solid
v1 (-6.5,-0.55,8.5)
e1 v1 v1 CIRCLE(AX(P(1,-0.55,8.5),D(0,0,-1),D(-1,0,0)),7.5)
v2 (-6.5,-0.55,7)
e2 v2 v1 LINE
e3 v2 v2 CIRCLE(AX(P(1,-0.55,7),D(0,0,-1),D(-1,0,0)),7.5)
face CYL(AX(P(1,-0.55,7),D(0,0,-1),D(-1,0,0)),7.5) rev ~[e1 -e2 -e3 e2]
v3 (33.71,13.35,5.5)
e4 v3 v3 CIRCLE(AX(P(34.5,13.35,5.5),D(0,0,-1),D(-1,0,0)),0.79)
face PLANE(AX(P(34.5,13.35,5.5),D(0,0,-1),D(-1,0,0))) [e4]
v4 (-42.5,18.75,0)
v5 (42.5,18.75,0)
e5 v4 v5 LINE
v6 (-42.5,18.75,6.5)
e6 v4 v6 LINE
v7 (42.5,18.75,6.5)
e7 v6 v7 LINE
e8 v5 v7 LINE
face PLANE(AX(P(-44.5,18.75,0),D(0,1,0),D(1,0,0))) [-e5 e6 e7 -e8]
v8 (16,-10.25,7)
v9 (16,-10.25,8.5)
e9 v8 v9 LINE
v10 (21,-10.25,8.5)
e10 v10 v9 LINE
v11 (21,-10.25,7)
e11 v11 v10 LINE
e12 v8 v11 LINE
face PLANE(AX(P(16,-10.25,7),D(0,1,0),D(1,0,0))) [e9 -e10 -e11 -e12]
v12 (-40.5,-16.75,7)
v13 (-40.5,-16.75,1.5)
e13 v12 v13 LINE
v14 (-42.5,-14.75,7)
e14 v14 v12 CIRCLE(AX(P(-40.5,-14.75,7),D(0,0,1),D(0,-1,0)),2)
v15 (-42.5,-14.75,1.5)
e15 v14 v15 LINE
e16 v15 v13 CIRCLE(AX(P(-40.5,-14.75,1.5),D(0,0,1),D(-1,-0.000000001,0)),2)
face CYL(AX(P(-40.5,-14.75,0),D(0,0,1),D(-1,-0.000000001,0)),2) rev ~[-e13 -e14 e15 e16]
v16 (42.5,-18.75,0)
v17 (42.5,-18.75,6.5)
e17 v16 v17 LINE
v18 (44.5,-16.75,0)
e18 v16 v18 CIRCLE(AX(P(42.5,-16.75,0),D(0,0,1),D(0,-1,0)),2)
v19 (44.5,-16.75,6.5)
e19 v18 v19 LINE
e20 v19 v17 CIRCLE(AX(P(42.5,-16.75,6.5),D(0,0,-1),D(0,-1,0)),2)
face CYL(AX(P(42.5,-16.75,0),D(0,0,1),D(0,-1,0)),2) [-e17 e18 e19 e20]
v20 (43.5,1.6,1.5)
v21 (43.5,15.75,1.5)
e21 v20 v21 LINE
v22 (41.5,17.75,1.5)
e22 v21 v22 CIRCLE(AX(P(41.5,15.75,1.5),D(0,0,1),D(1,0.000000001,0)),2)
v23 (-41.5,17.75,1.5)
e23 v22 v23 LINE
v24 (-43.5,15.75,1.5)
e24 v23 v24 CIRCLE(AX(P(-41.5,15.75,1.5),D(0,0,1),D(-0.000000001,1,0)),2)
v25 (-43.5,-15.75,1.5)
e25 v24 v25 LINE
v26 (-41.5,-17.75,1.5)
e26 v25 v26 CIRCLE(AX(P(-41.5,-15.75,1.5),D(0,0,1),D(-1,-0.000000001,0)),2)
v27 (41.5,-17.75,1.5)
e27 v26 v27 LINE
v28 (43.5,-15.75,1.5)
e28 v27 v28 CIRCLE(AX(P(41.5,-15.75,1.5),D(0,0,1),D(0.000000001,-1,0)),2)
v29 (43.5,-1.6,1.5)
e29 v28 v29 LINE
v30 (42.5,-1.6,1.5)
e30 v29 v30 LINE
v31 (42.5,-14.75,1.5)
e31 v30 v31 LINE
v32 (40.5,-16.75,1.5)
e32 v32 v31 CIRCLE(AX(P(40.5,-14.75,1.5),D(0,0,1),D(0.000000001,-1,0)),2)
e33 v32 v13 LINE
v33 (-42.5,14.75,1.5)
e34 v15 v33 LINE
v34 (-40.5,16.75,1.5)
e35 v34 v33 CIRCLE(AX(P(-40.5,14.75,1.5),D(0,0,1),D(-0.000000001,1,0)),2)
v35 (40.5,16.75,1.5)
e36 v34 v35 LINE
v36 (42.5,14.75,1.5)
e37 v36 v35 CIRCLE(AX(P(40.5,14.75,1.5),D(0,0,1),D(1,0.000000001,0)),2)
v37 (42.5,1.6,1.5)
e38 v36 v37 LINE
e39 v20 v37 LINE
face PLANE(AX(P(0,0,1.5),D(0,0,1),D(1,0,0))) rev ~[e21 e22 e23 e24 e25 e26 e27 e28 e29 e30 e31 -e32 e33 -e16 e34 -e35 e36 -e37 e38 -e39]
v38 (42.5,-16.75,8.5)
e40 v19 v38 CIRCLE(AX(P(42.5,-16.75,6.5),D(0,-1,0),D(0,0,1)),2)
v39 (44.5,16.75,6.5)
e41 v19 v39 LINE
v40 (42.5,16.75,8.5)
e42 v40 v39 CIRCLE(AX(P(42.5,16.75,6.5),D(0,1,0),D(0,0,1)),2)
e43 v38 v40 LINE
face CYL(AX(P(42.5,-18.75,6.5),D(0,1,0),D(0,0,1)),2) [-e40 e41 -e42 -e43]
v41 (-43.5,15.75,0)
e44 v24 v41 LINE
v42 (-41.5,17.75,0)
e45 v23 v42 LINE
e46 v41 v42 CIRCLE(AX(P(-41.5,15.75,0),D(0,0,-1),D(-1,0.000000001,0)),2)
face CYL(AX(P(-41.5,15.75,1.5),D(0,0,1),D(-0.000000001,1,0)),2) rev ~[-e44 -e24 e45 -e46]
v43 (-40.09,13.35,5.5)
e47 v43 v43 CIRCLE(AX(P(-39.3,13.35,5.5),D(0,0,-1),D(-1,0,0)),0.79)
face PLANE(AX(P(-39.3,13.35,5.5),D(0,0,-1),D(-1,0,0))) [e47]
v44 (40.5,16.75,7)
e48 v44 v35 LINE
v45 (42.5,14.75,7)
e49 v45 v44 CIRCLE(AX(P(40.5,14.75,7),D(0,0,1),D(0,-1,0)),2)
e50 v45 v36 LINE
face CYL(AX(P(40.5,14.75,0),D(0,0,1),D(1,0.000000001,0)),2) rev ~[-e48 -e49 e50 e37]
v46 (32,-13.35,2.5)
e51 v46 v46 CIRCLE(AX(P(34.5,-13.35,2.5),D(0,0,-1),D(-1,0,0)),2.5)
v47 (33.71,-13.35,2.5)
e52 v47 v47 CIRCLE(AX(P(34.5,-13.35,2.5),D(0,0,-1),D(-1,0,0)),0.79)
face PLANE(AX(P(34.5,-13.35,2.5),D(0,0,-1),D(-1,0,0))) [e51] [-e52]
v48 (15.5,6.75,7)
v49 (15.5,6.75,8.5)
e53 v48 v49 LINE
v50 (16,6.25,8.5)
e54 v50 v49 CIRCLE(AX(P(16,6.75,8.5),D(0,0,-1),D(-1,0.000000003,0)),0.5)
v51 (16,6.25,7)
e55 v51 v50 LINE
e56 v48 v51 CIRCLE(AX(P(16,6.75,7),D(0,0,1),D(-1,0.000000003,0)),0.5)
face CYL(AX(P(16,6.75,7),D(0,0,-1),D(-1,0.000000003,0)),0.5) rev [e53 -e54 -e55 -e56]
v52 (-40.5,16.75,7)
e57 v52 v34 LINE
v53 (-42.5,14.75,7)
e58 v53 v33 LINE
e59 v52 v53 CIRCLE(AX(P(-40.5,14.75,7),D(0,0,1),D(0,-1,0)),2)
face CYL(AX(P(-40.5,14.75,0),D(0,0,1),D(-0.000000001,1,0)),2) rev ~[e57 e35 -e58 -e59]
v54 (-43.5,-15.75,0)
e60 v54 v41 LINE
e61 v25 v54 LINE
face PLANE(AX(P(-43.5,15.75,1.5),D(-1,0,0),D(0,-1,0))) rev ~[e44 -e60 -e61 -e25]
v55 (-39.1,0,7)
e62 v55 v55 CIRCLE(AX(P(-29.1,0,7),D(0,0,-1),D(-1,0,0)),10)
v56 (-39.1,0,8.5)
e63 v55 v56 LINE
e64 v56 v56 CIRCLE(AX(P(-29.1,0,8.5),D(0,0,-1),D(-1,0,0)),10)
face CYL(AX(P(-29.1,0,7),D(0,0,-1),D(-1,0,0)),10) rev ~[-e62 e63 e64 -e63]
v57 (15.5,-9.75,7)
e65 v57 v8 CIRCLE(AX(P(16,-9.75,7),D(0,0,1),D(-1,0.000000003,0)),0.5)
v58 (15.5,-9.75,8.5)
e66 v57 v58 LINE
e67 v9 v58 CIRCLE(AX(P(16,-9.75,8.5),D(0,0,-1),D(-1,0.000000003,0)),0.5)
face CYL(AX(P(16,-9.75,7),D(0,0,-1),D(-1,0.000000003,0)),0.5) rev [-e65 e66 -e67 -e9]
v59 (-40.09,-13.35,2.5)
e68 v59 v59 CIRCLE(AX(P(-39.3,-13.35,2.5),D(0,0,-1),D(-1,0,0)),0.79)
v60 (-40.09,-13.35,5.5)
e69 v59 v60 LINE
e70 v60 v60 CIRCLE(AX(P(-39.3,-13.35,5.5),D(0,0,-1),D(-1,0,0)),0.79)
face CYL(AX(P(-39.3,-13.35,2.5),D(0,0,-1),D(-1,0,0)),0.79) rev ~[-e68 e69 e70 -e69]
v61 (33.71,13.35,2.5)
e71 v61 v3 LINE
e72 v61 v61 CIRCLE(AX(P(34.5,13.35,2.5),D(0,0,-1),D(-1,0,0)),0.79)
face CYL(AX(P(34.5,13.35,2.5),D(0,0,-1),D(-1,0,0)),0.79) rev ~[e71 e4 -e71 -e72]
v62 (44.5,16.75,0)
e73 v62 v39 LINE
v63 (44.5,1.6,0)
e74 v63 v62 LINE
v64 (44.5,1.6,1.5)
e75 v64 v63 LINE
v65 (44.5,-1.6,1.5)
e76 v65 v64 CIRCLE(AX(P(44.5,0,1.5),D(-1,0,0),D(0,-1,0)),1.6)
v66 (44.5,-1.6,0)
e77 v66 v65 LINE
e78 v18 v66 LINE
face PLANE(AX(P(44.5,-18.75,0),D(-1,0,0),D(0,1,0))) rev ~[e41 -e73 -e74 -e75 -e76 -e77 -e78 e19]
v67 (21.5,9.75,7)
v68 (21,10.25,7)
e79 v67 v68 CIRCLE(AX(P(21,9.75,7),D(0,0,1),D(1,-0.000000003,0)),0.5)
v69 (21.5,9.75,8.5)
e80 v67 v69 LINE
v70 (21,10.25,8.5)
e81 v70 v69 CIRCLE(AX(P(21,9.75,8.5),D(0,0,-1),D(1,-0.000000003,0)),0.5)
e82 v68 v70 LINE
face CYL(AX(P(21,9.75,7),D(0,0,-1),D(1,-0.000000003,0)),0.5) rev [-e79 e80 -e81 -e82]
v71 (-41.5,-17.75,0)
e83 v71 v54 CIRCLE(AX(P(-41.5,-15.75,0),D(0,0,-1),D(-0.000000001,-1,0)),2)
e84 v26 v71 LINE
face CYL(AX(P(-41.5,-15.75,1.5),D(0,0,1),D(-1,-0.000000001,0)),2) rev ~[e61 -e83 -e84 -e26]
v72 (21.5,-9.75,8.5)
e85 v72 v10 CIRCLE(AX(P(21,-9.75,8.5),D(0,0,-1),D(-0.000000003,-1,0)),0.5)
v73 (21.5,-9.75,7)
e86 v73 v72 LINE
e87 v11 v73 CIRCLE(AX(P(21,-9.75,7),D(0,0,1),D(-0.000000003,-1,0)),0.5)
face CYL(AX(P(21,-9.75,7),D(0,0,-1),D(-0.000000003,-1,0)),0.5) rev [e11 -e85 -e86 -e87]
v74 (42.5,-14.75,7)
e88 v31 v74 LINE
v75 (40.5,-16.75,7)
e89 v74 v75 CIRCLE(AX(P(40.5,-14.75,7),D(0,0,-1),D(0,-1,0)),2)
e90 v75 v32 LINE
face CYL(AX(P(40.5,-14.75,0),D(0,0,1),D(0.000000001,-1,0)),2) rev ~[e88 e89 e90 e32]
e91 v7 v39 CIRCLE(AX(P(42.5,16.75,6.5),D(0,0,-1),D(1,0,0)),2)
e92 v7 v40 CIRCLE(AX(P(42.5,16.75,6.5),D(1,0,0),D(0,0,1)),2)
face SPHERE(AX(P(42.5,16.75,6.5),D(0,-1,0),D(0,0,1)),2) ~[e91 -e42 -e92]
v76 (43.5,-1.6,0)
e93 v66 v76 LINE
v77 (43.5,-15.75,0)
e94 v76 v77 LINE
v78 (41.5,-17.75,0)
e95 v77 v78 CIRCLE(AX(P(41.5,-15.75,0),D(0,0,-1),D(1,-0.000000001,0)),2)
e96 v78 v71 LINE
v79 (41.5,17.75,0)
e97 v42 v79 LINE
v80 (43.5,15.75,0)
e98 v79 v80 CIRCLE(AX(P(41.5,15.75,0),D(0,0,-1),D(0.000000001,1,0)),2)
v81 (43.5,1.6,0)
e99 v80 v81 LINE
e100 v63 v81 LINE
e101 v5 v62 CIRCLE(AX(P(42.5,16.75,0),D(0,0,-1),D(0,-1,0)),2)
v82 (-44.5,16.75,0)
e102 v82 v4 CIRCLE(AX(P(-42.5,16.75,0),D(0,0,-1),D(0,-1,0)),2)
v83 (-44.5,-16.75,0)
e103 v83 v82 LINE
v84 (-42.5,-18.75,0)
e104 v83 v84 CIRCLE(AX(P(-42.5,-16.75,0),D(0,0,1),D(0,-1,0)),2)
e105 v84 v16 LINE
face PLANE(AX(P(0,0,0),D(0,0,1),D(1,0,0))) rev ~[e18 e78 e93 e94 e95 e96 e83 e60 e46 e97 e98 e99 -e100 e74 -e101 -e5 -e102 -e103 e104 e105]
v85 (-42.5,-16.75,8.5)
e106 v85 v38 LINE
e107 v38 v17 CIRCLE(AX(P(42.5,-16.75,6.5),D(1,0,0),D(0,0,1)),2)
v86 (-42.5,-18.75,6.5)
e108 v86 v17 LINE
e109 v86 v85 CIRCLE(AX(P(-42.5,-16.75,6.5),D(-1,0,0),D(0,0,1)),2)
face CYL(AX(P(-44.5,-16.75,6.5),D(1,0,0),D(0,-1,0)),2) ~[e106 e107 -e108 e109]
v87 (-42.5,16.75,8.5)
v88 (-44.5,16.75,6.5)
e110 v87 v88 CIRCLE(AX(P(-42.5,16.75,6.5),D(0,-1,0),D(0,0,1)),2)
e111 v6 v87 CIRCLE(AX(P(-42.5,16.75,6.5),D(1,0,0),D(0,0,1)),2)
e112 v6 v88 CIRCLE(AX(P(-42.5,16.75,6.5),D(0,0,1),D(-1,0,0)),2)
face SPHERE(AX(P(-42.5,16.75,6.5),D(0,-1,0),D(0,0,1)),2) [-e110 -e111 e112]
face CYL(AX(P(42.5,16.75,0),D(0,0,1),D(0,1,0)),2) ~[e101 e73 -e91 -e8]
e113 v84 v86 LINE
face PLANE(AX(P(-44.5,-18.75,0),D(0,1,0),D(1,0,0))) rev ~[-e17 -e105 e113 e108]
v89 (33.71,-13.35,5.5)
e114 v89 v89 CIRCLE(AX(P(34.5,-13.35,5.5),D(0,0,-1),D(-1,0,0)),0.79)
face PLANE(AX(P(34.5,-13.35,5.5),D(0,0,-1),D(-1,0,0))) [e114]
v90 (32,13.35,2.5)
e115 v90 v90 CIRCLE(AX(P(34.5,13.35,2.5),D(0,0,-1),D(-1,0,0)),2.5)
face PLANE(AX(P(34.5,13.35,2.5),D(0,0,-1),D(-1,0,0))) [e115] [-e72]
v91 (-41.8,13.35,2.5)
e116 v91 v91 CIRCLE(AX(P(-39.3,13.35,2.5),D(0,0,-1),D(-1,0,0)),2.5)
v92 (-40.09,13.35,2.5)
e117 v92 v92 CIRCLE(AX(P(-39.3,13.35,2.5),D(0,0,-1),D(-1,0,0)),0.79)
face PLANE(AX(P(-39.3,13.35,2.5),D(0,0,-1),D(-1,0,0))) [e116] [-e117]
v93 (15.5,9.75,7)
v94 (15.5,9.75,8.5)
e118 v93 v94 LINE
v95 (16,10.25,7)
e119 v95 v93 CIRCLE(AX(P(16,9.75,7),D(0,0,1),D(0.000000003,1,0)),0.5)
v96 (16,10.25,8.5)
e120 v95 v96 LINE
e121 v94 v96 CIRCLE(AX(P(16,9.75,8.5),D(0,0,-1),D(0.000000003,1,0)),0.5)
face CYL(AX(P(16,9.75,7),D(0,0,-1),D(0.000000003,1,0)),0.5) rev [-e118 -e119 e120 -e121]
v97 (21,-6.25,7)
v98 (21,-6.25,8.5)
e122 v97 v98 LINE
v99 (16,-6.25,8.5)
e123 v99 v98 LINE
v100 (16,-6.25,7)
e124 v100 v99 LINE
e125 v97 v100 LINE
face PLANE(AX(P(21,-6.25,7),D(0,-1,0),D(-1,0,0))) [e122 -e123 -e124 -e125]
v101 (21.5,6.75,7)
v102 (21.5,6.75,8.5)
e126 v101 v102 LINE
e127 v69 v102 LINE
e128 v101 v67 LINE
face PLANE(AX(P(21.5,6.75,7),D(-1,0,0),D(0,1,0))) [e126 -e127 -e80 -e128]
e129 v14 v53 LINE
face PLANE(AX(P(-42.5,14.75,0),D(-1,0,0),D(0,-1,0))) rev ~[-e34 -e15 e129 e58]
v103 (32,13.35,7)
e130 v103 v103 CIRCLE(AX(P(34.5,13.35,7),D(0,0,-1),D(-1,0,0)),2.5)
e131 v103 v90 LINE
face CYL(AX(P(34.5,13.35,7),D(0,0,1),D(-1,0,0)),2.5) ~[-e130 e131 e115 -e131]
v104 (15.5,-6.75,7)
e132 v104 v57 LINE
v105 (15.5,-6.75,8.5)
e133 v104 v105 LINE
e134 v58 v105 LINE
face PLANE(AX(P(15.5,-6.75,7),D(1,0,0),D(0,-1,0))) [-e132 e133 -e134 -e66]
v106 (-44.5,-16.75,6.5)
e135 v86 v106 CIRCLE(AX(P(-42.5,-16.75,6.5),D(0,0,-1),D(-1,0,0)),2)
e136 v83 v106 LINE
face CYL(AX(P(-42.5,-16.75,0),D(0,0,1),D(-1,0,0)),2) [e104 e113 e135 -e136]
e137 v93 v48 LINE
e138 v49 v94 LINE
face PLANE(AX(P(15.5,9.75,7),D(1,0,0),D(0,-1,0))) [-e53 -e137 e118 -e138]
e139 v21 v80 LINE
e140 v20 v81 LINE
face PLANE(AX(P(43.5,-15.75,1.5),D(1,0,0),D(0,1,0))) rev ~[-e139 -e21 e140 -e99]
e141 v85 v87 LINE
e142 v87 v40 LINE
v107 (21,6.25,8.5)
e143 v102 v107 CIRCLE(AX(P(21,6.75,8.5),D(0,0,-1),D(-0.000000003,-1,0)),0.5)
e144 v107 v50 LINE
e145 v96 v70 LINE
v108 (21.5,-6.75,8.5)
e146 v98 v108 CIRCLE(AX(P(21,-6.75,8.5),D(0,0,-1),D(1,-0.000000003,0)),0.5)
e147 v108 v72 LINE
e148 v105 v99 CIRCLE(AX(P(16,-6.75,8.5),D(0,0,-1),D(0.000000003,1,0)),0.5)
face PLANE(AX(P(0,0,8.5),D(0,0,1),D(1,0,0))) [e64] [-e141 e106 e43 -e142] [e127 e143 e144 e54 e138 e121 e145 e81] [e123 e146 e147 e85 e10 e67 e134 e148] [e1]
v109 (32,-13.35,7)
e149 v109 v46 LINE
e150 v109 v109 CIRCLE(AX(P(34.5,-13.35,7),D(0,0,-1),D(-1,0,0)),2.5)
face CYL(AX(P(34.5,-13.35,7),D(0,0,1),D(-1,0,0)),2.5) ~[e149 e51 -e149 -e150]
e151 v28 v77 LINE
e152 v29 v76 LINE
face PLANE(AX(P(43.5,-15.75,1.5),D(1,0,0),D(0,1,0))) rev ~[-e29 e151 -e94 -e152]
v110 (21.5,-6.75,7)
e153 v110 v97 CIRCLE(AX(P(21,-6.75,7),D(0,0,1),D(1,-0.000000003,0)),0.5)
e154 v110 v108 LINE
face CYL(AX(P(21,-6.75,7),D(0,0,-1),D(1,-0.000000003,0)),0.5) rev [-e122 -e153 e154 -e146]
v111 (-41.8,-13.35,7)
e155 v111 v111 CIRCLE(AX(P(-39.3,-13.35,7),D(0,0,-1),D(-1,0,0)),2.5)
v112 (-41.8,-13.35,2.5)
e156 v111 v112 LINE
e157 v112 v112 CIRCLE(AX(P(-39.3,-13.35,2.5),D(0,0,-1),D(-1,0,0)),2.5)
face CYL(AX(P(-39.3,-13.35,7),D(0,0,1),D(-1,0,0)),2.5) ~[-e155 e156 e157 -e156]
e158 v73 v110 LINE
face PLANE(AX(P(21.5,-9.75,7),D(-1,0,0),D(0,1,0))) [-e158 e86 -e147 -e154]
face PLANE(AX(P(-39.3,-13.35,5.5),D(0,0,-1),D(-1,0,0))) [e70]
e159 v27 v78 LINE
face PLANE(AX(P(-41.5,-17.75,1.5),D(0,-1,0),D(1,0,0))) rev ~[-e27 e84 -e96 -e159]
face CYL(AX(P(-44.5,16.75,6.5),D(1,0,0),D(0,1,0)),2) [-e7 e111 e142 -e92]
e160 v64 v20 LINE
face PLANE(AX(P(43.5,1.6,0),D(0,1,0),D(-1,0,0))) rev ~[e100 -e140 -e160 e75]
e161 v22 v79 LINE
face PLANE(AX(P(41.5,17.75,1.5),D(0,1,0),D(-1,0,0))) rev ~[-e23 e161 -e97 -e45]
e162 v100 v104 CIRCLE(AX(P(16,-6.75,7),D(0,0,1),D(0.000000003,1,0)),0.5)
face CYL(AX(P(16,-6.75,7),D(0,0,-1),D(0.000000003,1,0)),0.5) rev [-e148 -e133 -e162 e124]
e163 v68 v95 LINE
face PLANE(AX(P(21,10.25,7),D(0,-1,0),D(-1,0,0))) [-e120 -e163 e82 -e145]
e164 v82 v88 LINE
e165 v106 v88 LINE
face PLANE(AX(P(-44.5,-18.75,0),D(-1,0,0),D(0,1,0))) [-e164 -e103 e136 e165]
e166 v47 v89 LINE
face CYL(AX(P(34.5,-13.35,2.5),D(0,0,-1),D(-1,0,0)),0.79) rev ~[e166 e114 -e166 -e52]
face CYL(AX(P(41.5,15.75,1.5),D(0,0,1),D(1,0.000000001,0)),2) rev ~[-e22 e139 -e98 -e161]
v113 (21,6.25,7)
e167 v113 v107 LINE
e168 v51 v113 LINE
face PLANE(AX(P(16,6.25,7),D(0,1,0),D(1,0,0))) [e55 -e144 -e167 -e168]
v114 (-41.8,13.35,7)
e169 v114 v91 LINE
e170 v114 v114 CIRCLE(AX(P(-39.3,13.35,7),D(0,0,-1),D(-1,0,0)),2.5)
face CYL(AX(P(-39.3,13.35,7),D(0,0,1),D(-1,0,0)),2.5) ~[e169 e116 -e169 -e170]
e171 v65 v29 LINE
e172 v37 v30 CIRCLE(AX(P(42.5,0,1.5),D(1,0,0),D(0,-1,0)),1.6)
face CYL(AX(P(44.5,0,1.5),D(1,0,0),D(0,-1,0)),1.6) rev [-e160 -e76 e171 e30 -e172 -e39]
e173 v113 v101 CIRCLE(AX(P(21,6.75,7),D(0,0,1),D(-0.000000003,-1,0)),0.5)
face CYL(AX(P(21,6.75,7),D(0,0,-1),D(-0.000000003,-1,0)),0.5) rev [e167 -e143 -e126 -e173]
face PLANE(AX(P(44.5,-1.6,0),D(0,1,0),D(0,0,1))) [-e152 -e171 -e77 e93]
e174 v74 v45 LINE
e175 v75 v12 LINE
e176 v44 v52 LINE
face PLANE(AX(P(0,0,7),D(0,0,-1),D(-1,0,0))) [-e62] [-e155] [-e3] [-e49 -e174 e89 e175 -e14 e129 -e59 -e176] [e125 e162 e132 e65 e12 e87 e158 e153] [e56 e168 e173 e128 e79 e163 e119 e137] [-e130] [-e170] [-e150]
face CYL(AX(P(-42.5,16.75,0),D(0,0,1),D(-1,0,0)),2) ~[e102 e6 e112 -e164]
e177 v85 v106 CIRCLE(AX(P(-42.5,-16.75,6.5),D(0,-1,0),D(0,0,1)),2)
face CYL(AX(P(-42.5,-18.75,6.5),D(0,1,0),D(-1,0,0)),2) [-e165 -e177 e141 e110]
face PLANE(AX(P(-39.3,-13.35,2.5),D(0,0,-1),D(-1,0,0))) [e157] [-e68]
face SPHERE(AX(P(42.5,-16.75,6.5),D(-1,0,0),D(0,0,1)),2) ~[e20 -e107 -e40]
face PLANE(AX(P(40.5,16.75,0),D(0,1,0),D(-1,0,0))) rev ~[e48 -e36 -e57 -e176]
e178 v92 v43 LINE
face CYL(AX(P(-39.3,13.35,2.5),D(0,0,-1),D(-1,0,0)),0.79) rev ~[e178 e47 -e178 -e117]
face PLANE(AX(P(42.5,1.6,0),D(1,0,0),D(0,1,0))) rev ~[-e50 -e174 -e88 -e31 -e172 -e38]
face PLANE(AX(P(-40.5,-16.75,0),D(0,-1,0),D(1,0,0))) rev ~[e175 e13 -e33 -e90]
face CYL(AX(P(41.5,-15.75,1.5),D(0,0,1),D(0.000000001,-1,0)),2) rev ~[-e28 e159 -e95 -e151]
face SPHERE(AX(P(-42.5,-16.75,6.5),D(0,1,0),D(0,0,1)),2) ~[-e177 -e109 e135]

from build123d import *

# Parameters (mm, degrees)
SKETCH_1_W           = 89
SKETCH_1_H           = 37.5
EXTRUDE_1_DEPTH      = 8.5
SKETCH_2_W           = 85
SKETCH_2_H           = 33.5
CUT_EXTRUDE_1_DEPTH  = 7
CUT_EXTRUDE_3_DEPTH  = 4
FILLET_1_R           = 2
EXTRUDE_2_DEPTH      = 1
SKETCH_10_R          = 2.5
EXTRUDE_3_DEPTH      = 4.5
SKETCH_11_R          = 0.79
CUT_EXTRUDE_9_DEPTH  = 3
SKETCH_8_R           = 7.5
CUT_EXTRUDE_8_DEPTH  = 3
SKETCH_7_R           = 10
CUT_EXTRUDE_7_DEPTH  = 3
CUT_EXTRUDE_START    = -2.5
CUT_EXTRUDE_10_DEPTH = 2.5
CUT_EXTRUDE_11_DEPTH = 10


with BuildPart() as part:
    # 草图1 → 凸台-拉伸1 (new body)
    with BuildSketch(Plane.XY):
        Rectangle(SKETCH_1_W, SKETCH_1_H)
    extrude(amount=EXTRUDE_1_DEPTH)

    # 草图2 → 切除-拉伸1 (cut)
    with BuildSketch(Plane(origin=(0, 0, 0), x_dir=(-1, 0, 0), z_dir=(0, 0, -1))):
        Rectangle(SKETCH_2_W, SKETCH_2_H)
    extrude(amount=-CUT_EXTRUDE_1_DEPTH, mode=Mode.SUBTRACT)

    # 草图3 → 切除-拉伸3 (cut)
    with BuildSketch(Plane(origin=(44.5, 0, 0), x_dir=(0, 0, -1), z_dir=(1, 0, 0))):
        with BuildLine():
            Line((0, 1.6), (0, -1.6))
            Line((0, -1.6), (-1.5, -1.6))
            ThreePointArc((-1.5, -1.6), (-3.1, 0), (-1.5, 1.6))
            Line((-1.5, 1.6), (0, 1.6))
        make_face()
    extrude(amount=-CUT_EXTRUDE_3_DEPTH, mode=Mode.SUBTRACT)

    # 圆角1
    fillet_1_edges = [part.edges().sort_by_distance(p)[0] for p in [
        (-44.5, 0, 8.5),
        (0, -18.75, 8.5),
        (42.5, -16.75, 3.5),
        (42.5, 16.75, 3.5),
        (-42.5, 16.75, 3.5),
        (-42.5, -16.75, 3.5),
        (44.5, 0, 8.5),
        (0, 18.75, 8.5),
        (44.5, -18.75, 4.25),
        (-44.5, -18.75, 4.25),
        (-44.5, 18.75, 4.25),
        (44.5, 18.75, 4.25),
    ]]
    fillet(fillet_1_edges, radius=FILLET_1_R)

    # 草图9 → 凸台-拉伸2 (add)
    with BuildSketch(Plane(origin=(0, 0, 0), x_dir=(-1, 0, 0), z_dir=(0, 0, -1))):
        with BuildLine():
            Line((-43.5, 15.75), (-43.5, 1.6))
            Line((-43.5, 1.6), (-42.5, 1.6))
            Line((-42.5, 1.6), (-42.5, 14.75))
            ThreePointArc((-42.5, 14.75), (-41.914213562, 16.164213562), (-40.5, 16.75))
            Line((-40.5, 16.75), (40.5, 16.75))
            ThreePointArc((40.5, 16.75), (41.914213562, 16.164213562), (42.5, 14.75))
            Line((42.5, 14.75), (42.5, -14.75))
            ThreePointArc((42.5, -14.75), (41.914213562, -16.164213562), (40.5, -16.75))
            Line((40.5, -16.75), (-40.5, -16.75))
            ThreePointArc((-40.5, -16.75), (-41.914213562, -16.164213562), (-42.5, -14.75))
            Line((-42.5, -14.75), (-42.5, -1.6))
            Line((-42.5, -1.6), (-43.5, -1.6))
            Line((-43.5, -1.6), (-43.5, -15.75))
            ThreePointArc((-43.5, -15.75), (-42.914213562, -17.164213562), (-41.5, -17.75))
            Line((-41.5, -17.75), (41.5, -17.75))
            ThreePointArc((41.5, -17.75), (42.914213562, -17.164213562), (43.5, -15.75))
            Line((43.5, -15.75), (43.5, 15.75))
            ThreePointArc((43.5, 15.75), (42.914213562, 17.164213562), (41.5, 17.75))
            Line((41.5, 17.75), (-41.5, 17.75))
            ThreePointArc((-41.5, 17.75), (-42.914213562, 17.164213562), (-43.5, 15.75))
        make_face()
    extrude(amount=EXTRUDE_2_DEPTH)

    # 草图10 → 凸台-拉伸3 (add)
    with BuildSketch(Plane(origin=(0, 0, 7), x_dir=(-1, 0, 0), z_dir=(0, 0, -1))):
        with Locations((39.3, -13.35)):
            Circle(SKETCH_10_R)
        with Locations((39.3, 13.35)):
            Circle(SKETCH_10_R)
        with Locations((-34.5, 13.35)):
            Circle(SKETCH_10_R)
        with Locations((-34.5, -13.35)):
            Circle(SKETCH_10_R)
    extrude(amount=EXTRUDE_3_DEPTH)

    # 草图11 → 切除-拉伸9 (cut)
    with BuildSketch(Plane(origin=(0, 0, 2.5), x_dir=(-1, 0, 0), z_dir=(0, 0, -1))):
        with Locations((-34.5, 13.35)):
            Circle(SKETCH_11_R)
        with Locations((-34.5, -13.35)):
            Circle(SKETCH_11_R)
        with Locations((39.3, 13.35)):
            Circle(SKETCH_11_R)
        with Locations((39.3, -13.35)):
            Circle(SKETCH_11_R)
    extrude(amount=-CUT_EXTRUDE_9_DEPTH, mode=Mode.SUBTRACT)

    # 草图8 → 切除-拉伸8 (cut)
    with BuildSketch(Plane(origin=(0, 0, 7), x_dir=(-1, 0, 0), z_dir=(0, 0, -1))):
        with Locations((-1, -0.55)):
            Circle(SKETCH_8_R)
    extrude(amount=-CUT_EXTRUDE_8_DEPTH, mode=Mode.SUBTRACT)

    # 草图7 → 切除-拉伸7 (cut)
    with BuildSketch(Plane(origin=(0, 0, 7), x_dir=(-1, 0, 0), z_dir=(0, 0, -1))):
        with Locations((29.1, 0)):
            Circle(SKETCH_7_R)
    extrude(amount=-CUT_EXTRUDE_7_DEPTH, mode=Mode.SUBTRACT)

    # 草图13 → 切除-拉伸10 (cut)
    with BuildSketch(Plane(origin=(0, 0, -1), x_dir=(-1, 0, 0), z_dir=(0, 0, -1)).offset(CUT_EXTRUDE_START)):
        with BuildLine():
            Line((-41.5, 17.75), (41.5, 17.75))
            ThreePointArc((41.5, 17.75), (42.914213562, 17.164213562), (43.5, 15.75))
            Line((43.5, 15.75), (43.5, -15.75))
            ThreePointArc((43.5, -15.75), (42.914213562, -17.164213562), (41.5, -17.75))
            Line((41.5, -17.75), (-41.5, -17.75))
            ThreePointArc((-41.5, -17.75), (-42.914213562, -17.164213562), (-43.5, -15.75))
            Line((-43.5, -15.75), (-43.5, 15.75))
            ThreePointArc((-43.5, 15.75), (-42.914213562, 17.164213562), (-41.5, 17.75))
        make_face()
    extrude(amount=CUT_EXTRUDE_10_DEPTH, mode=Mode.SUBTRACT)

    # 草图14 → 切除-拉伸11 (cut)
    with BuildSketch(Plane(origin=(0, 0, 7), x_dir=(-1, 0, 0), z_dir=(0, 0, -1))):
        with BuildLine():
            Line((-21, -6.25), (-16, -6.25))
            ThreePointArc((-16, -6.25), (-15.646446609, -6.396446609), (-15.5, -6.75))
            Line((-15.5, -6.75), (-15.5, -9.75))
            ThreePointArc((-15.5, -9.75), (-15.646446609, -10.103553391), (-16, -10.25))
            Line((-16, -10.25), (-21, -10.25))
            ThreePointArc((-21, -10.25), (-21.353553391, -10.103553391), (-21.5, -9.75))
            Line((-21.5, -9.75), (-21.5, -6.75))
            ThreePointArc((-21.5, -6.75), (-21.353553391, -6.396446609), (-21, -6.25))
        make_face()
        with BuildLine():
            Line((-21, 10.25), (-16, 10.25))
            ThreePointArc((-16, 10.25), (-15.646446609, 10.103553391), (-15.5, 9.75))
            Line((-15.5, 9.75), (-15.5, 6.75))
            ThreePointArc((-15.5, 6.75), (-15.646446609, 6.396446609), (-16, 6.25))
            Line((-16, 6.25), (-21, 6.25))
            ThreePointArc((-21, 6.25), (-21.353553391, 6.396446609), (-21.5, 6.75))
            Line((-21.5, 6.75), (-21.5, 9.75))
            ThreePointArc((-21.5, 9.75), (-21.353553391, 10.103553391), (-21, 10.25))
        make_face()
    extrude(amount=-CUT_EXTRUDE_11_DEPTH, mode=Mode.SUBTRACT)


solid = part.part
